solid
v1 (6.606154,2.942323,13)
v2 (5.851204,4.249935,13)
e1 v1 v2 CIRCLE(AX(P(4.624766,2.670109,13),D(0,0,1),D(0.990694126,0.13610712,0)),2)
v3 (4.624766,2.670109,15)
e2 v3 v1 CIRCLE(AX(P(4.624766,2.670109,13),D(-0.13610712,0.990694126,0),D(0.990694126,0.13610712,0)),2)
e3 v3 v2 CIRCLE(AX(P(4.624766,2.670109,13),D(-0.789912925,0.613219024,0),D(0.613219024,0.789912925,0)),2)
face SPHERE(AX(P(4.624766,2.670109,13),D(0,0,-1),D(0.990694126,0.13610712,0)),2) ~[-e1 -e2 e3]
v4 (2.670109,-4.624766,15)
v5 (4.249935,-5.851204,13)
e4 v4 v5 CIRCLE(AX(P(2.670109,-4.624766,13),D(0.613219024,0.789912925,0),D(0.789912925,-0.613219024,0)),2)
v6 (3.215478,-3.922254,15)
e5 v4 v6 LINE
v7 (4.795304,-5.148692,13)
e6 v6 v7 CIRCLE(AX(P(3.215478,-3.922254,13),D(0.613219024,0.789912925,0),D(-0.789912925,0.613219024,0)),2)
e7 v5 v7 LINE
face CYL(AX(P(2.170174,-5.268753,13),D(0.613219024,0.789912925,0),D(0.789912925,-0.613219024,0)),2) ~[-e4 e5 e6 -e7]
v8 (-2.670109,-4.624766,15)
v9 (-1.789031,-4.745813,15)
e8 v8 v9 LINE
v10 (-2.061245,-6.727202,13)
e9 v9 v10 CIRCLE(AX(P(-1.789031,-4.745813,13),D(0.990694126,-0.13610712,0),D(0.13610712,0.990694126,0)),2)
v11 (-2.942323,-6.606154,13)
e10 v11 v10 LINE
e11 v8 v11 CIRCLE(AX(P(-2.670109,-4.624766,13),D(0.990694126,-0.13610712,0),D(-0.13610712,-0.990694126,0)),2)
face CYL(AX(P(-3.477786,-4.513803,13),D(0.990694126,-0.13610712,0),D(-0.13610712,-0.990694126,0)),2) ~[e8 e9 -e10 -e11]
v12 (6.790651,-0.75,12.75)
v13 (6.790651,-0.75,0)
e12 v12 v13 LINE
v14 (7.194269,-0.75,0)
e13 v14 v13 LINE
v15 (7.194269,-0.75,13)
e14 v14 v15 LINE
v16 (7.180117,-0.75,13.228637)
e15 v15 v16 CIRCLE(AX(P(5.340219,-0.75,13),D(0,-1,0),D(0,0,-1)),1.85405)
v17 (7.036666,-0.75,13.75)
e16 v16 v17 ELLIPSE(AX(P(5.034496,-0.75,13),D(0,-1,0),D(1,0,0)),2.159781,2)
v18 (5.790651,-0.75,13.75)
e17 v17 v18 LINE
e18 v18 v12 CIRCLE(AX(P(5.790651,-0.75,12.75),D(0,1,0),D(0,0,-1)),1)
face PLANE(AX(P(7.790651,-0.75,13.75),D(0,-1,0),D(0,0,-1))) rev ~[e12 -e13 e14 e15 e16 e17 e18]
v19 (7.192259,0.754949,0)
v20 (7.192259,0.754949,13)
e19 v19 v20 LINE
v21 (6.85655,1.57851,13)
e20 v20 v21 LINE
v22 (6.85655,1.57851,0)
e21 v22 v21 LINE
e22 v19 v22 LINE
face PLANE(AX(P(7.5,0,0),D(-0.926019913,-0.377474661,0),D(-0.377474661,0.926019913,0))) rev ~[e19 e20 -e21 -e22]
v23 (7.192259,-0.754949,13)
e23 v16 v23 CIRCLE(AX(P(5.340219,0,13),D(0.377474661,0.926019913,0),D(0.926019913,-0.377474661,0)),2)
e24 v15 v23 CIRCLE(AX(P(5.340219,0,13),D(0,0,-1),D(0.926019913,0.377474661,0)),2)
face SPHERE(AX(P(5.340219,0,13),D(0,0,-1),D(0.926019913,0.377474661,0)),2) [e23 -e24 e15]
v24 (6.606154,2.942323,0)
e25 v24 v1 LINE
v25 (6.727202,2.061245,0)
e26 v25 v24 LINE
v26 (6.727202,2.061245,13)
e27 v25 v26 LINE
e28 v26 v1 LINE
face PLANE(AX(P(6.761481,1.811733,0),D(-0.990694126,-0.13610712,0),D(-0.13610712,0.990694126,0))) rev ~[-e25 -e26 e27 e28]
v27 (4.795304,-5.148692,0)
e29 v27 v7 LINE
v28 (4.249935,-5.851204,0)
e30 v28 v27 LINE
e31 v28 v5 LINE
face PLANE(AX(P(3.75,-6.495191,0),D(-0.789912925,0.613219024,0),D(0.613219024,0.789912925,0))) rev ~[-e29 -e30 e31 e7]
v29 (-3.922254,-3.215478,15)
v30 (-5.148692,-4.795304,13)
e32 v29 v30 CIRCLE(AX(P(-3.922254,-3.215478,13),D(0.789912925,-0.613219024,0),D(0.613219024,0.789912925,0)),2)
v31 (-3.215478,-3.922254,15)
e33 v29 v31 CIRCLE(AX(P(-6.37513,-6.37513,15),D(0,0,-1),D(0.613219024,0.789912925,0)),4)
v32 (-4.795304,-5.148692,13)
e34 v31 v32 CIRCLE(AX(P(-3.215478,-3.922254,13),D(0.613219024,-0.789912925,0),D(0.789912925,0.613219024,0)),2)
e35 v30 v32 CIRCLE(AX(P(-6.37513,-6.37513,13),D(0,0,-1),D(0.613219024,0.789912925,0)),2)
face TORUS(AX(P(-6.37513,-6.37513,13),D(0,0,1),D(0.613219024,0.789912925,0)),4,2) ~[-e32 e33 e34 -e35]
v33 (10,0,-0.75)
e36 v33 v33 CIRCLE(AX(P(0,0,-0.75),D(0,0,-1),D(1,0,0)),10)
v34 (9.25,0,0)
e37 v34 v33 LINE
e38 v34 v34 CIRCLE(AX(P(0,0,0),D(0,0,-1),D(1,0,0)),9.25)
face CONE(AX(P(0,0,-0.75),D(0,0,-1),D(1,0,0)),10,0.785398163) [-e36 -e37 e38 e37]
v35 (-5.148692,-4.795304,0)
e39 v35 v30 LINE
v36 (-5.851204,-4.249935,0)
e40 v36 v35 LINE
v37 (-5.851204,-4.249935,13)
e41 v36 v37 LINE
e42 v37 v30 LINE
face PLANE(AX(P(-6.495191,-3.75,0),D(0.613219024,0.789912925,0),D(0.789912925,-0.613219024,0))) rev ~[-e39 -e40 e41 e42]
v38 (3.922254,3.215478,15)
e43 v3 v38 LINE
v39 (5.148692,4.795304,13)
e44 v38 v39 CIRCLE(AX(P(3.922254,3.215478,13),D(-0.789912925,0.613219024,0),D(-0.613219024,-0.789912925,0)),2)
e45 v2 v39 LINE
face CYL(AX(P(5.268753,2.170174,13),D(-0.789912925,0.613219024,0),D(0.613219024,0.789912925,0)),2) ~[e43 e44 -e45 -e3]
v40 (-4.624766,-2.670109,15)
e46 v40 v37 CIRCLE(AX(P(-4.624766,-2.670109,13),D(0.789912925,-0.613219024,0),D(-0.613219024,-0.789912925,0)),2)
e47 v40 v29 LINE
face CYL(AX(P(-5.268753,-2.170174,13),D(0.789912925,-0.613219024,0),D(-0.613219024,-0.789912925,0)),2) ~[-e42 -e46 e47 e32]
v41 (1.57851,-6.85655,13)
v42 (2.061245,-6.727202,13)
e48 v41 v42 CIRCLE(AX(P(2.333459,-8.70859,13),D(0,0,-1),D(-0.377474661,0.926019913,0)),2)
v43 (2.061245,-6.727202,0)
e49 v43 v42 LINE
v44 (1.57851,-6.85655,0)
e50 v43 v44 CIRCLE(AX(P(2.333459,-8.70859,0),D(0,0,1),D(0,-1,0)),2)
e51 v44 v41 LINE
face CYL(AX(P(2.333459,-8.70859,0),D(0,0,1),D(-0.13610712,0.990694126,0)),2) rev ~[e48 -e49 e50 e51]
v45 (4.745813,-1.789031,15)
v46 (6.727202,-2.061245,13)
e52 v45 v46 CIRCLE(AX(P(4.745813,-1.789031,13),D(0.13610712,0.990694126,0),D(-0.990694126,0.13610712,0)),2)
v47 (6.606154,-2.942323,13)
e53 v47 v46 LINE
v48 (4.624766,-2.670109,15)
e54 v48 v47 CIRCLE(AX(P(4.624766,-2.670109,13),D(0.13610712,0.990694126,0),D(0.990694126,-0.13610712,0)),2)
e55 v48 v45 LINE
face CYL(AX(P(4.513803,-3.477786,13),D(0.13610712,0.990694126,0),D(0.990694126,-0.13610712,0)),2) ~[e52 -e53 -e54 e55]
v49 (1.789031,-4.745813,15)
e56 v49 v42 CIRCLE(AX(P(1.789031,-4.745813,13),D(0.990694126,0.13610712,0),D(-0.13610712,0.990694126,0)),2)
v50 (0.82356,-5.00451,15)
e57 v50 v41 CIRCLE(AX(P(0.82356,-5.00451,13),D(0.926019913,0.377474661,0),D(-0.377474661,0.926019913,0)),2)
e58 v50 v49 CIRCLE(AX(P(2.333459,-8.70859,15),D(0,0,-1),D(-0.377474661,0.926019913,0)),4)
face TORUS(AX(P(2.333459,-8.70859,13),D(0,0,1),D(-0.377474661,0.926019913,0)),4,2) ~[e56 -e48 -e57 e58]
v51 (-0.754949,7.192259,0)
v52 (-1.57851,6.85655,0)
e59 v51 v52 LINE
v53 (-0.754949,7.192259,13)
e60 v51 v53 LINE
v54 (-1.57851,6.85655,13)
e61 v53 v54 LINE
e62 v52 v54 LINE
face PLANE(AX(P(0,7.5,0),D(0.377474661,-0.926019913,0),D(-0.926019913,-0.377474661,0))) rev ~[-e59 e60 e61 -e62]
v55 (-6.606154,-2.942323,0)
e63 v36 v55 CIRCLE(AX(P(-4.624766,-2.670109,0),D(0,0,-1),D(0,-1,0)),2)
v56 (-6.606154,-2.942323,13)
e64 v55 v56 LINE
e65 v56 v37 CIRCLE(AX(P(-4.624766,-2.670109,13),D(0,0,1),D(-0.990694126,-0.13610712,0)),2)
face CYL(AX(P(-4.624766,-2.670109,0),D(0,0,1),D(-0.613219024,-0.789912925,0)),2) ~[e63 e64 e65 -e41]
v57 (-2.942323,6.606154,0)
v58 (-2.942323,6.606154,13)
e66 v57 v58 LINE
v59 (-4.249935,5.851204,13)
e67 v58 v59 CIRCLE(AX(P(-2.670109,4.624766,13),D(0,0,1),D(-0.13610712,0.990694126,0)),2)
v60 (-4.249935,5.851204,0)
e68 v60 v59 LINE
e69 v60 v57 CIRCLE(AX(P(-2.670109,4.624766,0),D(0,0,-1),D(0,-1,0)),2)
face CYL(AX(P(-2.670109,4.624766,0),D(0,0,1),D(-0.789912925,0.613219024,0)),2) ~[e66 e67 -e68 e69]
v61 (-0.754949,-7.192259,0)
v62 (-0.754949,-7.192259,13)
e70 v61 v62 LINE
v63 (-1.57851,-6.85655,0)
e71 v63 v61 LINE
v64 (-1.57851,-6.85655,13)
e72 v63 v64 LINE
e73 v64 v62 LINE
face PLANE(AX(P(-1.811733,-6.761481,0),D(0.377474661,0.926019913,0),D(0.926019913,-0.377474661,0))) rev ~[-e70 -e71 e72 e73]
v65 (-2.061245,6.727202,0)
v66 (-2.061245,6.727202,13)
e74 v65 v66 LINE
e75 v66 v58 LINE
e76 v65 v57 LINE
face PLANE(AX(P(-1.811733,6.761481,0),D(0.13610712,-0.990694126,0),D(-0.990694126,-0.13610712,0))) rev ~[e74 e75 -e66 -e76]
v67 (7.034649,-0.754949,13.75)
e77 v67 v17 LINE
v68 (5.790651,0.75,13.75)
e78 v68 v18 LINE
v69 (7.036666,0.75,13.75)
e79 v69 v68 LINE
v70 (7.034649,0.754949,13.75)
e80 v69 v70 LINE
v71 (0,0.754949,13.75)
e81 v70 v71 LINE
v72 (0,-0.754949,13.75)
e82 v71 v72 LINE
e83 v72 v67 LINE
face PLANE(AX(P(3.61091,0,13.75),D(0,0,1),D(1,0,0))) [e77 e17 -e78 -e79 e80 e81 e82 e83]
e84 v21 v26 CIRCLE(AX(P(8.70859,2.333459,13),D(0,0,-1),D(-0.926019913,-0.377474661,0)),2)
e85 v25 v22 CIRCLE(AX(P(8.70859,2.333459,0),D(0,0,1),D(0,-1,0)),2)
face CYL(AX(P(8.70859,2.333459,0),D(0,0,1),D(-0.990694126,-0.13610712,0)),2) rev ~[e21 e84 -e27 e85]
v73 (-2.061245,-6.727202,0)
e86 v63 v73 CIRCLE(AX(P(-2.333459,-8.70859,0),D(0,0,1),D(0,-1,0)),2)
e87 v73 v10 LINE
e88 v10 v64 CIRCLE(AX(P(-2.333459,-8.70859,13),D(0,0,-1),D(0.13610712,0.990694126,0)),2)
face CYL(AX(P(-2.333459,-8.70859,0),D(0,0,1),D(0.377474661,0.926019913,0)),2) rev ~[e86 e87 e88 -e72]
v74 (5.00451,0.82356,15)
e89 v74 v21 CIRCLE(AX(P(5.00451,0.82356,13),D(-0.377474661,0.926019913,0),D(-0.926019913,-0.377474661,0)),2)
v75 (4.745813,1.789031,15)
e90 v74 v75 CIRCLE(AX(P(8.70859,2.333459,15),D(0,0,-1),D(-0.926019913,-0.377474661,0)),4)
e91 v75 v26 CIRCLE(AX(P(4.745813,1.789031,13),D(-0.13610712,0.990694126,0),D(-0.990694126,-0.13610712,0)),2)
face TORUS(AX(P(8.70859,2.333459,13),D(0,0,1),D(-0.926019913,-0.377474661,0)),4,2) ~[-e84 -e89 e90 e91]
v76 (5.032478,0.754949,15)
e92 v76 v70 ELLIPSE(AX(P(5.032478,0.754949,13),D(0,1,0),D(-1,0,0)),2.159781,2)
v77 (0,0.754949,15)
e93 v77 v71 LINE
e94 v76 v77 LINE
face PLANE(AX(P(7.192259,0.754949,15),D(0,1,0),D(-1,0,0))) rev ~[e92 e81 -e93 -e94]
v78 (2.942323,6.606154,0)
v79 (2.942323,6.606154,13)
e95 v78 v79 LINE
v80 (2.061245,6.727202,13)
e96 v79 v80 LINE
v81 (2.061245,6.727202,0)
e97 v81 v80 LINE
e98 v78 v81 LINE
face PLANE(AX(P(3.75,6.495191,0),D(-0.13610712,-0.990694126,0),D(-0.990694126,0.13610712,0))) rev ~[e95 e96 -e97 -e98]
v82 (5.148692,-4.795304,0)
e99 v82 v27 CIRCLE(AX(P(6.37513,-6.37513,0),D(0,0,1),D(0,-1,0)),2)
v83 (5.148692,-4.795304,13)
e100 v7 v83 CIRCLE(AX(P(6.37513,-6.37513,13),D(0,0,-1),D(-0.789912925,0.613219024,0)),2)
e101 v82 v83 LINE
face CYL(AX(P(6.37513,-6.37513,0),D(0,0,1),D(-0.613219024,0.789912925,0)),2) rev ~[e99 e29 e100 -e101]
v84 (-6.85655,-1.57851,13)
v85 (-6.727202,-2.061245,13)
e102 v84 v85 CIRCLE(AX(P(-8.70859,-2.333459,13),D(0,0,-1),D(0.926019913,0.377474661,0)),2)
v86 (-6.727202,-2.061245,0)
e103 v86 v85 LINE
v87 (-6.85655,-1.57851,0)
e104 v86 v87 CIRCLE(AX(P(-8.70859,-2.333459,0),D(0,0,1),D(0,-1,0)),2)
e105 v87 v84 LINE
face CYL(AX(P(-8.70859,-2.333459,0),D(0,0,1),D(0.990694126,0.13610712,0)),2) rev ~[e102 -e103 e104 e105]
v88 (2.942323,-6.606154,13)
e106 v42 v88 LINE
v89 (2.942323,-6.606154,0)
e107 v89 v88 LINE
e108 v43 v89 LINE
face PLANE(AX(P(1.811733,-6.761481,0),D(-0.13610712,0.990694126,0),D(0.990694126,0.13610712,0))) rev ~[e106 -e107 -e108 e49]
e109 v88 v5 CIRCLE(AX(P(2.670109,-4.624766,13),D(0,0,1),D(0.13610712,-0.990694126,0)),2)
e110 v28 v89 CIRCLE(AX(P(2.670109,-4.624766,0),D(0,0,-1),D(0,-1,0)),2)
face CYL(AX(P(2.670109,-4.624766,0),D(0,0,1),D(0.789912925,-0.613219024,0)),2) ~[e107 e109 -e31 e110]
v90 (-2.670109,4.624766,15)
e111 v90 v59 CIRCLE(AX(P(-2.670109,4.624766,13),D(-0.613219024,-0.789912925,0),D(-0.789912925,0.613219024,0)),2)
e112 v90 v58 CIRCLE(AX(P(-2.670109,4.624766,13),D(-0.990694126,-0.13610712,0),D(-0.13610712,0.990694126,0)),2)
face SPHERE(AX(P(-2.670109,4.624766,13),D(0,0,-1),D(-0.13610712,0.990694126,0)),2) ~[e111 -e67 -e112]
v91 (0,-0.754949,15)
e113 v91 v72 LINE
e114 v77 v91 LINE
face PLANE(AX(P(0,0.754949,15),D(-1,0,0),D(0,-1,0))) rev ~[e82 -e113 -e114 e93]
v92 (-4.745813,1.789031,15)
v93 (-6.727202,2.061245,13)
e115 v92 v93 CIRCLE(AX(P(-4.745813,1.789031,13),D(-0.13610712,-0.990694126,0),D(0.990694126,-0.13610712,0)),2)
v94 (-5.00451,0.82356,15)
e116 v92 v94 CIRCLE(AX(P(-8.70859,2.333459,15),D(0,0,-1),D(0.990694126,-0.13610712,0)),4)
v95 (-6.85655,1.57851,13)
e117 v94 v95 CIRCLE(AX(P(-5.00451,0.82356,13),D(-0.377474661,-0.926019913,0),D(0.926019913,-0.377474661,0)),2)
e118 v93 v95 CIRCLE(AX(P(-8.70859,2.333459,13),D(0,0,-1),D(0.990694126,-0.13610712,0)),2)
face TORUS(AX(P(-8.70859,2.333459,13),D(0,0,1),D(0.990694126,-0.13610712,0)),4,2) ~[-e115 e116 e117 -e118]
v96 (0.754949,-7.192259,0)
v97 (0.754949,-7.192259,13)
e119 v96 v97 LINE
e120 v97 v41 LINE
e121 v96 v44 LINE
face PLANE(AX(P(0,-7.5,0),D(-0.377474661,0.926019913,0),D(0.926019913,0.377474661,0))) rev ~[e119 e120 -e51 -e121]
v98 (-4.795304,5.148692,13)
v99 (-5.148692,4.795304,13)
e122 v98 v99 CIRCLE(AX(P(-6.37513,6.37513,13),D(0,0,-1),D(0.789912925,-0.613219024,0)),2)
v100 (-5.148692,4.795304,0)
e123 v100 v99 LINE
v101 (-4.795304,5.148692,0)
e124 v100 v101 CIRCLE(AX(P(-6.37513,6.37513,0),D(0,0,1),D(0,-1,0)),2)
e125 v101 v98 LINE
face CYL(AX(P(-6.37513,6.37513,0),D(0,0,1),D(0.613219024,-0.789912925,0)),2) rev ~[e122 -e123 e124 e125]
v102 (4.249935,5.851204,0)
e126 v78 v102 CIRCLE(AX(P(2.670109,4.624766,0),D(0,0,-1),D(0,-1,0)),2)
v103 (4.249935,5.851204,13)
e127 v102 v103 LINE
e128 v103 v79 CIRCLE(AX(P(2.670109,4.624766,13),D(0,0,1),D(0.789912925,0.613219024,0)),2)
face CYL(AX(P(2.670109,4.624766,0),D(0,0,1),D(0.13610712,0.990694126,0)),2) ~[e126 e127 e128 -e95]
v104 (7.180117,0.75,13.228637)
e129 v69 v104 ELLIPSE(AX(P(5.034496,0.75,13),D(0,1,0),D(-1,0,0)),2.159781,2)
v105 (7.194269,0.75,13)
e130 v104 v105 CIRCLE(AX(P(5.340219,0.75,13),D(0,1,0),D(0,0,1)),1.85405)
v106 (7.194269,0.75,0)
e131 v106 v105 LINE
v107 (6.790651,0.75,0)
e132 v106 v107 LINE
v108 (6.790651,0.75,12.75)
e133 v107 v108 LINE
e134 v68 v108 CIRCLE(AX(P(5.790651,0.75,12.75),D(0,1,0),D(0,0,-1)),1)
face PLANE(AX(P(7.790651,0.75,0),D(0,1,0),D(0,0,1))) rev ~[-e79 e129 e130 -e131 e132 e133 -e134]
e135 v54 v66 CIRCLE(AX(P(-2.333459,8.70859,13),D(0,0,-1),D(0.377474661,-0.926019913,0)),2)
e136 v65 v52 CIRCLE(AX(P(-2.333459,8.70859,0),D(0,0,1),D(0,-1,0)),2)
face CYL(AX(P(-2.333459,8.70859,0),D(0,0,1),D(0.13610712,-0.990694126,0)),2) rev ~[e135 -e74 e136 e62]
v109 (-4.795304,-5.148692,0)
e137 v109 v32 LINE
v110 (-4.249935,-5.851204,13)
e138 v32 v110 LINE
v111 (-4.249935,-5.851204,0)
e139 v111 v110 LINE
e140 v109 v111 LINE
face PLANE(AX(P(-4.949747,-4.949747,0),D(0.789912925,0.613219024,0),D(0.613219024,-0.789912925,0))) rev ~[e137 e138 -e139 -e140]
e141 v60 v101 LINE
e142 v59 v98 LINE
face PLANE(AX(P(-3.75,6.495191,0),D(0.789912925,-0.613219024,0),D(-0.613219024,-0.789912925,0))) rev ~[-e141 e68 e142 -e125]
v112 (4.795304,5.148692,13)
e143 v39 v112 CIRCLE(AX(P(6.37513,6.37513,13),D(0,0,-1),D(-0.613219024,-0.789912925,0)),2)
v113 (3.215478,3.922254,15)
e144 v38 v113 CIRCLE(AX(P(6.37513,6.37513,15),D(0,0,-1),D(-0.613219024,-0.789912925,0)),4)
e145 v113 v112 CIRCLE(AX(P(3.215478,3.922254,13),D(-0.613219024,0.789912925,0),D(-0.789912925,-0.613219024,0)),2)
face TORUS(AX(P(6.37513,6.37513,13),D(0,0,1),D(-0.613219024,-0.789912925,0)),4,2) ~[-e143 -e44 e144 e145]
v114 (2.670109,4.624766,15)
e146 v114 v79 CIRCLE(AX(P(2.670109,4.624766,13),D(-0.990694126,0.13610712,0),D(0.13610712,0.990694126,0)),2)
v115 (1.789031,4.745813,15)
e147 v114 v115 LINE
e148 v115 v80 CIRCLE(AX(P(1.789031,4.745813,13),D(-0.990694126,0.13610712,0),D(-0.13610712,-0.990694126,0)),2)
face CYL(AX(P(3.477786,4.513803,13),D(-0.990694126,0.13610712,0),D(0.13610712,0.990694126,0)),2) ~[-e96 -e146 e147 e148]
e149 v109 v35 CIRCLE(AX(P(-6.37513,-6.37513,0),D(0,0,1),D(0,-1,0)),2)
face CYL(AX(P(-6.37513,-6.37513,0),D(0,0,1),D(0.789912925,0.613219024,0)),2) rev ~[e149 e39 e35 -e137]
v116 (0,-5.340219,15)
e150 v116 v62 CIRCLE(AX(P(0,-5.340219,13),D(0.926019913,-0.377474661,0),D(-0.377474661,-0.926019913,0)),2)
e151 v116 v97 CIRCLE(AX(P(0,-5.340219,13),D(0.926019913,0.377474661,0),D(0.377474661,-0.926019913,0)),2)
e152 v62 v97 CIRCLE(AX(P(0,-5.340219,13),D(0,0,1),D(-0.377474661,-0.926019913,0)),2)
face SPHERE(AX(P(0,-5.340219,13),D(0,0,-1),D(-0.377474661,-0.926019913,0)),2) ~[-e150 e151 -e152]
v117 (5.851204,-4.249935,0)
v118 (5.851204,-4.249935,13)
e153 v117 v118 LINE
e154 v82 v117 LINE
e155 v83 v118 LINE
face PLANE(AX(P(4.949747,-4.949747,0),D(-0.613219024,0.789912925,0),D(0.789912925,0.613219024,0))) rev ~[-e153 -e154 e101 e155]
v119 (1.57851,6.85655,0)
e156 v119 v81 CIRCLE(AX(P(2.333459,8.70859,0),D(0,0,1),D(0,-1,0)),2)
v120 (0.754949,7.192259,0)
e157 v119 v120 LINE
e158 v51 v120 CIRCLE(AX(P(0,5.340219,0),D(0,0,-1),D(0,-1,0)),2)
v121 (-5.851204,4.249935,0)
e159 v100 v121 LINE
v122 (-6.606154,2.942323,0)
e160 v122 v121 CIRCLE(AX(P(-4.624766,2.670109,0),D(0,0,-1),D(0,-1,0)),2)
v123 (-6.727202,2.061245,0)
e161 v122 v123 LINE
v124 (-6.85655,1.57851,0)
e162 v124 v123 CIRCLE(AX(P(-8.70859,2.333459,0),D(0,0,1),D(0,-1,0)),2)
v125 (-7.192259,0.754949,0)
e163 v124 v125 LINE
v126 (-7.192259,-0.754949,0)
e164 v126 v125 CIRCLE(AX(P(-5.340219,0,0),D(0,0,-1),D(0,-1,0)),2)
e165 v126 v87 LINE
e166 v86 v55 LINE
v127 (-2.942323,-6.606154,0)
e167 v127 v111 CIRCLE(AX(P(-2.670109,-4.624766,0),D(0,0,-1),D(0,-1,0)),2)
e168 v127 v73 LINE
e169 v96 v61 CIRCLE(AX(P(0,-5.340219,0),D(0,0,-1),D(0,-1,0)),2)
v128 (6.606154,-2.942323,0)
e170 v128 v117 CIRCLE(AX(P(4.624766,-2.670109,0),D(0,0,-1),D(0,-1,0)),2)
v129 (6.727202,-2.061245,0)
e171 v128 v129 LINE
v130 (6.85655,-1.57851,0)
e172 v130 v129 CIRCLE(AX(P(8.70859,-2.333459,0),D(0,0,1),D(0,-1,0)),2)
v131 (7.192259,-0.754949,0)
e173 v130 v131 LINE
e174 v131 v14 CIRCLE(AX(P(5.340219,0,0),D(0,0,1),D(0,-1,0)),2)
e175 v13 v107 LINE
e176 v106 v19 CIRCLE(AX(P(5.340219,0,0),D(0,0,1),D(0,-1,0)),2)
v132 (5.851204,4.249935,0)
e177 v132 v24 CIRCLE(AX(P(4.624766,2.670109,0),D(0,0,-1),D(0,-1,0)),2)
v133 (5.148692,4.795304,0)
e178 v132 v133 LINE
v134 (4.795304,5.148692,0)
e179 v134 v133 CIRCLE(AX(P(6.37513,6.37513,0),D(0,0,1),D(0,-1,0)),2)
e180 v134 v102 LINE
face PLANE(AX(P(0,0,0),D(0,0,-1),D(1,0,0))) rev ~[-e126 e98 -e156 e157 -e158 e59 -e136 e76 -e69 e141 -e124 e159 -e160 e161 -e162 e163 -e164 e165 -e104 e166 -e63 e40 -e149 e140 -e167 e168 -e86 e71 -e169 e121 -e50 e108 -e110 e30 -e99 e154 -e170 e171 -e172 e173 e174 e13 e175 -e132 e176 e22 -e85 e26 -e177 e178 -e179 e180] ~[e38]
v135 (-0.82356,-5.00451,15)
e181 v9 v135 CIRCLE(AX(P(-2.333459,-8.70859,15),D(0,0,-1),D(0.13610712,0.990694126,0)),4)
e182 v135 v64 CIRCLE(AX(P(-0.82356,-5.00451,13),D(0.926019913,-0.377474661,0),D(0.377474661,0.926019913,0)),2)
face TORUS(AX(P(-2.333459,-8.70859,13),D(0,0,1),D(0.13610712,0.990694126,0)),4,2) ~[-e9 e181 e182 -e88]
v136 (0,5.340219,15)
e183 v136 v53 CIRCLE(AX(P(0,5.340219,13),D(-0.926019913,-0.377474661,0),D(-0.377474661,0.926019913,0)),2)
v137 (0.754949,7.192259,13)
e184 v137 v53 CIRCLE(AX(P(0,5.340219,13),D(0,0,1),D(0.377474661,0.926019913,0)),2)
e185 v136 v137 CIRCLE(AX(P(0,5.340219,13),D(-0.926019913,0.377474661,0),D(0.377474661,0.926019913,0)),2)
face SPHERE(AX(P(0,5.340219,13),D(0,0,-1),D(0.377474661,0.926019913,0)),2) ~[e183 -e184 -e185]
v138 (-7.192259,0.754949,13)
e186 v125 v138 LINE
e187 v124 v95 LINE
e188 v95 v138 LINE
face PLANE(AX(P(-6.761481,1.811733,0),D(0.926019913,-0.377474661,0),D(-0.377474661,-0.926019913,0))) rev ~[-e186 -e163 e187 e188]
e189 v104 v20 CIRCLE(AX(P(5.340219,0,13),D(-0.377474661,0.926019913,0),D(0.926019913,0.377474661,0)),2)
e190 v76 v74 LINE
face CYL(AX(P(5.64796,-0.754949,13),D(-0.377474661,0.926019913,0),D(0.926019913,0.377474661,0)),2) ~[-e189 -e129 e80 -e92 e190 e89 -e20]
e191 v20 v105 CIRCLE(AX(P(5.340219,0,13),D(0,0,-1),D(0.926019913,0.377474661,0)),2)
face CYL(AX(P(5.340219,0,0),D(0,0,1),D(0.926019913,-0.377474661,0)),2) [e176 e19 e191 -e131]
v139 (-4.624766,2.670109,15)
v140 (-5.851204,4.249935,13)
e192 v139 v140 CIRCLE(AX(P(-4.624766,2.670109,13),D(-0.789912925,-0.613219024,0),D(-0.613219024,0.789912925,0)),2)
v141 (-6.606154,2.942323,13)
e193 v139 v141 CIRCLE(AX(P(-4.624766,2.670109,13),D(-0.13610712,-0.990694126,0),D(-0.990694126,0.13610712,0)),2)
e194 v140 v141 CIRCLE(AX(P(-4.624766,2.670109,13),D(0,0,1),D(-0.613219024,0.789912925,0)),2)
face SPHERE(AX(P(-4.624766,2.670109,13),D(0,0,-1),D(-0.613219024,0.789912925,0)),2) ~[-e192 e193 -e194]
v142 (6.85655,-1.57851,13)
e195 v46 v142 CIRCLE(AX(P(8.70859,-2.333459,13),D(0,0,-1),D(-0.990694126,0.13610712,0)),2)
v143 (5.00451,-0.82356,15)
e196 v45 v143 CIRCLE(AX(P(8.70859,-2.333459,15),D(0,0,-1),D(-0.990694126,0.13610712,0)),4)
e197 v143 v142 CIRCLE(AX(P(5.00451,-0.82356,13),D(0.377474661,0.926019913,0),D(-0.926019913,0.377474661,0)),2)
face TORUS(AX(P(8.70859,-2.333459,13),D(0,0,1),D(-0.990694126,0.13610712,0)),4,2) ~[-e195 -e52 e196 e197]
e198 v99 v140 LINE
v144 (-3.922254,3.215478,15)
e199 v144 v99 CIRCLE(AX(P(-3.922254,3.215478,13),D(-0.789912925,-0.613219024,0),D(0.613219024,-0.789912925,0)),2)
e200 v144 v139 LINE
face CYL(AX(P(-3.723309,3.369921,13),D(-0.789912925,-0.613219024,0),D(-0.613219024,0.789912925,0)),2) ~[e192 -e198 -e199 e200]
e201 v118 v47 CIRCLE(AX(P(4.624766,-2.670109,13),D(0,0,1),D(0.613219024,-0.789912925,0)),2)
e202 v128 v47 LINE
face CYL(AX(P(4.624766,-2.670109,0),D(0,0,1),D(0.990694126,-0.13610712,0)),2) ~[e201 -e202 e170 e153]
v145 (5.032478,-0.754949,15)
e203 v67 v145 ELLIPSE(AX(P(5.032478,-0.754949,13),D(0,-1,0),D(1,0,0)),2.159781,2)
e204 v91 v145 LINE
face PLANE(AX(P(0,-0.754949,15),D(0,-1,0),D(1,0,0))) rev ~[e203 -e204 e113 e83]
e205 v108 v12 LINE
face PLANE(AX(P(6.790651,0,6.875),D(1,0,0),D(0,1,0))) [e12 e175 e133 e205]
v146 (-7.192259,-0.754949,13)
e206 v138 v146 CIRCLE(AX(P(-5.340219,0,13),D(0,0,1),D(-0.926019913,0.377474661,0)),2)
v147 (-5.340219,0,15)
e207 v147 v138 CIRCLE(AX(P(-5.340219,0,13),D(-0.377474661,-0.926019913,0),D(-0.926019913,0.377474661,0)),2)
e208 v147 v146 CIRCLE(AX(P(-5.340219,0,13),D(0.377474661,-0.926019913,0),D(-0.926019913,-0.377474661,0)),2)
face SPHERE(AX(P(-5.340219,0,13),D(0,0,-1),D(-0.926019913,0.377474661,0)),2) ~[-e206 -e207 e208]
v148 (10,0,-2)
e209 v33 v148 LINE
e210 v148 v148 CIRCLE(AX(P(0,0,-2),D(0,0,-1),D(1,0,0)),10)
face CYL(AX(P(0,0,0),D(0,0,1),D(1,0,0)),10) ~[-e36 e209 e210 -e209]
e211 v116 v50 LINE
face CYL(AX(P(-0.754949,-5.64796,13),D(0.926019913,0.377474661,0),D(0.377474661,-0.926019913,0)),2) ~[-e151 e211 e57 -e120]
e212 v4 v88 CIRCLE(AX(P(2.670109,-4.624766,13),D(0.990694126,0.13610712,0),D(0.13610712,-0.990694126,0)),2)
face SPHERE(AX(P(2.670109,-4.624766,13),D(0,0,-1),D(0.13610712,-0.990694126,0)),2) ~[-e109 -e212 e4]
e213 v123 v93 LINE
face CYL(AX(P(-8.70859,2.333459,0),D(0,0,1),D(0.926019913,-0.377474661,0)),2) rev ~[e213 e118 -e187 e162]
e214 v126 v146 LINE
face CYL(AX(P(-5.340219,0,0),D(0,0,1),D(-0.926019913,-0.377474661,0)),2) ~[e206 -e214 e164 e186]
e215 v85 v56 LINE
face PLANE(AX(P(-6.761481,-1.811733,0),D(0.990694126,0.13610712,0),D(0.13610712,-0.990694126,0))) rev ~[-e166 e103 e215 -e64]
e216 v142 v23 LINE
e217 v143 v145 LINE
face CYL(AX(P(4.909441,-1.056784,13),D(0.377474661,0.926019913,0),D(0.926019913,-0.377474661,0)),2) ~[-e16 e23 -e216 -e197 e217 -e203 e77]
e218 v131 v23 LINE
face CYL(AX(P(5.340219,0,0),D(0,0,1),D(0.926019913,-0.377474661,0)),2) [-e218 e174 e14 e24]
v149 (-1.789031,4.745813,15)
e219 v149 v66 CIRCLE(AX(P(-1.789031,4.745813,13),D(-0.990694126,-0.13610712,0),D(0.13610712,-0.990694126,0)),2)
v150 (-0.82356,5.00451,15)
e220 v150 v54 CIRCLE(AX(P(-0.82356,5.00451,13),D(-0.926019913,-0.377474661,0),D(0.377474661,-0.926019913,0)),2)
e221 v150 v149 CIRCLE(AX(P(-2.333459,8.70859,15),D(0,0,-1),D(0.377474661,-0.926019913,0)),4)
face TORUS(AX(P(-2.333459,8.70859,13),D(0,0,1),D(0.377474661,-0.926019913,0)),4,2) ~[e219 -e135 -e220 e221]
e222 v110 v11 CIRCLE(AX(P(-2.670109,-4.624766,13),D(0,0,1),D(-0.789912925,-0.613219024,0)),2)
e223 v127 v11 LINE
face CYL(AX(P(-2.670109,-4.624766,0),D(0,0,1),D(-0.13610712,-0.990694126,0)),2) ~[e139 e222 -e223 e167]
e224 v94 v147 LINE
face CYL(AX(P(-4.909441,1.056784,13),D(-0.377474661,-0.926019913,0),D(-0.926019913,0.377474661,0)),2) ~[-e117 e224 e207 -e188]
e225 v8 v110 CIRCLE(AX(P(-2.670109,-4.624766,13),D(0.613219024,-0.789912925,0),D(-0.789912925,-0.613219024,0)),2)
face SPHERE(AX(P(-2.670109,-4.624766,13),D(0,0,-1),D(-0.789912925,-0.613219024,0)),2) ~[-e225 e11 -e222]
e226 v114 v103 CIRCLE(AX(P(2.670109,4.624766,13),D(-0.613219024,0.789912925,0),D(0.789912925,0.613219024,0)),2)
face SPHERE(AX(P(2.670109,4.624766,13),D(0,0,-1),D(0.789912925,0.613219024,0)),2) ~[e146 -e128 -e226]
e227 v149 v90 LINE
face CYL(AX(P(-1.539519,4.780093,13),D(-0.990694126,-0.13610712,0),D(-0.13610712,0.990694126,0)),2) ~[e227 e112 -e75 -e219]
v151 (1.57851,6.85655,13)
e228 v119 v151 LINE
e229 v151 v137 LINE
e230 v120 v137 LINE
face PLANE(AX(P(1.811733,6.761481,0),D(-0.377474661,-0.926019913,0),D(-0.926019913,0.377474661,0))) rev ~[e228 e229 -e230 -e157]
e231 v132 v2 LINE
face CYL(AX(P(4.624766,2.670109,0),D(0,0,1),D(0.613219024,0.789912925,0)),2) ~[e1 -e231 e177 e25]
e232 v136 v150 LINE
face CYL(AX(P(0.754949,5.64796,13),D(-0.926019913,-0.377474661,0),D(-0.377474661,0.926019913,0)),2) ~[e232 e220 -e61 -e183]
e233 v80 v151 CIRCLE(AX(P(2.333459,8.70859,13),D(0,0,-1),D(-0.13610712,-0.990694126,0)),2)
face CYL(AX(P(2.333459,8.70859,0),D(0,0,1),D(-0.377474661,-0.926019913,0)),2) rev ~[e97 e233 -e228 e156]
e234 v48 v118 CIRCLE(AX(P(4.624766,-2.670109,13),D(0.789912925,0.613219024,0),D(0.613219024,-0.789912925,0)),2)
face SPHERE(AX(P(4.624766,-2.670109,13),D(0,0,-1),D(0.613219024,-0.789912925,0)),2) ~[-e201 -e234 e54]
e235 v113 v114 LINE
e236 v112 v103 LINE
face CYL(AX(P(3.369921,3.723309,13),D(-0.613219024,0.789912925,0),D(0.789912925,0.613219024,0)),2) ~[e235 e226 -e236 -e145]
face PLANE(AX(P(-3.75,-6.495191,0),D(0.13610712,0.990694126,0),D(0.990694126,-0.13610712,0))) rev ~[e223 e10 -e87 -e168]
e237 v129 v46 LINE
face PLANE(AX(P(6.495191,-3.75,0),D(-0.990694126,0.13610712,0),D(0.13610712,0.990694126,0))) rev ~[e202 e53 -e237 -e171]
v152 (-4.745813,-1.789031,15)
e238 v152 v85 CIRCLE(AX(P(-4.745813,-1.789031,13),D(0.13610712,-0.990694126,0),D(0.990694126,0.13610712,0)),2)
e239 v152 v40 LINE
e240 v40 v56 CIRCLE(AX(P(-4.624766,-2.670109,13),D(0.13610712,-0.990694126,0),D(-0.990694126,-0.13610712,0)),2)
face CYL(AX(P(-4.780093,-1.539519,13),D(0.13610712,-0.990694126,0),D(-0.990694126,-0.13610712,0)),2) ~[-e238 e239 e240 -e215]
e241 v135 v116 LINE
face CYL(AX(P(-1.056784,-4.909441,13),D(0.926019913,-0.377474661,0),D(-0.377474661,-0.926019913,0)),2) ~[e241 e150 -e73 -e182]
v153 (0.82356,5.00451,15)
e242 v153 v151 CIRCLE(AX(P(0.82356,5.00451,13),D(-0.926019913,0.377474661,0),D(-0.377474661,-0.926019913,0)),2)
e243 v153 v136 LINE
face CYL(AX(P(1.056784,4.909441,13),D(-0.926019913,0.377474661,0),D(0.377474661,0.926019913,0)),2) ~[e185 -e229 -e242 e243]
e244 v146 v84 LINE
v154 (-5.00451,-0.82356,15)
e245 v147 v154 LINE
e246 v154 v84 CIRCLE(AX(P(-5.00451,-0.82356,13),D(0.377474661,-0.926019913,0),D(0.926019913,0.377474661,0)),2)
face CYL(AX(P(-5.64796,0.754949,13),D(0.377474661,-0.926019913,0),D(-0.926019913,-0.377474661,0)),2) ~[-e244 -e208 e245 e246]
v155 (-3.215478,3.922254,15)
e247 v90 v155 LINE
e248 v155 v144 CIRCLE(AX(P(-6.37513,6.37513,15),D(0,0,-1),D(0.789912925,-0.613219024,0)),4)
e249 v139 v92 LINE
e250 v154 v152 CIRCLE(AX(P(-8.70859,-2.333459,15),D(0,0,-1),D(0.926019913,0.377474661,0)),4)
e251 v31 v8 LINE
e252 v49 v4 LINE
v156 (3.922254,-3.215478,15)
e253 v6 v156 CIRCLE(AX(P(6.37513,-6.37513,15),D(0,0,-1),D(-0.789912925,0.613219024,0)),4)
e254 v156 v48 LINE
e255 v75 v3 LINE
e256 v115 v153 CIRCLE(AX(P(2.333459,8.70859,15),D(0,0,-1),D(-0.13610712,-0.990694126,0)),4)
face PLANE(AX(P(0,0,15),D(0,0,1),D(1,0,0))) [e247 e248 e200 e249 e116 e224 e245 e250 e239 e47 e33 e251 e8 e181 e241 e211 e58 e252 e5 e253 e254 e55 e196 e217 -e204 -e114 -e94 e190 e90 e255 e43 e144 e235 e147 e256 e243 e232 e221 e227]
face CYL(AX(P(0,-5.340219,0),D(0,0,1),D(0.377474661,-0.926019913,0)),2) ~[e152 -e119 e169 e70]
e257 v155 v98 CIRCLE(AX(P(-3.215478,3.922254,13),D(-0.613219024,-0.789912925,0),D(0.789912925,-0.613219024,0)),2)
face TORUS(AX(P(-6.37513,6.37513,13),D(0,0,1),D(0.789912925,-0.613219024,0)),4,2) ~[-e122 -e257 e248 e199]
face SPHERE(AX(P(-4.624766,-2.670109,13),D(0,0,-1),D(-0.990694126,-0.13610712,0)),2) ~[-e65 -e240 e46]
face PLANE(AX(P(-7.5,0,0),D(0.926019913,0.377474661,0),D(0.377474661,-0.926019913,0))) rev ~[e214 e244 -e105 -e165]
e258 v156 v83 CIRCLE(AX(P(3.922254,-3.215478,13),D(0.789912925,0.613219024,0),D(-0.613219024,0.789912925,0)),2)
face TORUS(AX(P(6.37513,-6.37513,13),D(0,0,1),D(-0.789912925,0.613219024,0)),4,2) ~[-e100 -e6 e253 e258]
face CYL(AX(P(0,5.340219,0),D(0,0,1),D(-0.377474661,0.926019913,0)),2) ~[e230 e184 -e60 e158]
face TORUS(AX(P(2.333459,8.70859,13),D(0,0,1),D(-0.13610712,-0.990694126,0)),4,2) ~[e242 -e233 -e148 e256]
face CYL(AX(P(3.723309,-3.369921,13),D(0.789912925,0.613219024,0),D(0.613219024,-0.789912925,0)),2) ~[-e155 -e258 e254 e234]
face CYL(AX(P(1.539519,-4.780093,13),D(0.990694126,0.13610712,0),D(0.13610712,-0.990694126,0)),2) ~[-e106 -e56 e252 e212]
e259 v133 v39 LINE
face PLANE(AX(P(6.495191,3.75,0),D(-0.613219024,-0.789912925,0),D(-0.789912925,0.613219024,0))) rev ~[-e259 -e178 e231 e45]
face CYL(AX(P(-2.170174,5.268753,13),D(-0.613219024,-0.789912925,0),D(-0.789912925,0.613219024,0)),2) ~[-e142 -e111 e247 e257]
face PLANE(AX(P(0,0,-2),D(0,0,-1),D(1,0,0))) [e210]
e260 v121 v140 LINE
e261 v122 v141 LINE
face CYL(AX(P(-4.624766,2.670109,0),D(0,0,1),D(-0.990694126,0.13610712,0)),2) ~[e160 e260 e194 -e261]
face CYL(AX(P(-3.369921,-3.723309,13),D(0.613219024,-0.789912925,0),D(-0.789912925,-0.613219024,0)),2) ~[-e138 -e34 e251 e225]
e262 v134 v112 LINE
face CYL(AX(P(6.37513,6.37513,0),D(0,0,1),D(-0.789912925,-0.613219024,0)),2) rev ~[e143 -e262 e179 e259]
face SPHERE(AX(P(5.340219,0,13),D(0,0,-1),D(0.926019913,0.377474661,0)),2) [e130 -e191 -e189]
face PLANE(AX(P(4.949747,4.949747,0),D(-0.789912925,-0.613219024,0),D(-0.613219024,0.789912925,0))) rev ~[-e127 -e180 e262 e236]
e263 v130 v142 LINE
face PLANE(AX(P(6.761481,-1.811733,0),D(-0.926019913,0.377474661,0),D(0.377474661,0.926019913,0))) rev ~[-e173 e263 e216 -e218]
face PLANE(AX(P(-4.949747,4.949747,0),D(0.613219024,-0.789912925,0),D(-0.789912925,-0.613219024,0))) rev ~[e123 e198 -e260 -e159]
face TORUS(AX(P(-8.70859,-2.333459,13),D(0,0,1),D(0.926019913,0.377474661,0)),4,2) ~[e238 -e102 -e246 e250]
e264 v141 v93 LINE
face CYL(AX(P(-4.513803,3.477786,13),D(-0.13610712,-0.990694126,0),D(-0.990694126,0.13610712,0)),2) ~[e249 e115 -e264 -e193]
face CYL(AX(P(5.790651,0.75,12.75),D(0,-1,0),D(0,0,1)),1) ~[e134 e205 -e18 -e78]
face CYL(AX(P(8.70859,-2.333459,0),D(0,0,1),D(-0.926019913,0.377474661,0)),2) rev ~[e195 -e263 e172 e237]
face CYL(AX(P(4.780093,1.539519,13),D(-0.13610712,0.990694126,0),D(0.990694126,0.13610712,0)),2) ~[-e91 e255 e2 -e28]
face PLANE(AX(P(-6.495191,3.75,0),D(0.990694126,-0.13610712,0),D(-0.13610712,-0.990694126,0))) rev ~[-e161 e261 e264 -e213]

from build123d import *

# Parameters (mm, degrees)
PAD_DEPTH       = 15
SKETCH001_R     = 10
PAD001_DEPTH    = 2
FILLET_R        = 2
POCKET_DEPTH    = 1.25
POCKET001_DEPTH = 1
FILLET001_R     = 1
CHAMFER_SIZE    = 0.75


with BuildPart() as part:
    # Sketch → Pad (new body)
    with BuildSketch(Plane.XY):
        Polygon((7.5, 0), (6.761481, 1.811733), (6.495191, 3.75), (4.949747, 4.949747), (3.75, 6.495191), (1.811733, 6.761481), (0, 7.5), (-1.811733, 6.761481), (-3.75, 6.495191), (-4.949747, 4.949747), (-6.495191, 3.75), (-6.761481, 1.811733), (-7.5, 0), (-6.761481, -1.811733), (-6.495191, -3.75), (-4.949747, -4.949747), (-3.75, -6.495191), (-1.811733, -6.761481), (0, -7.5), (1.811733, -6.761481), (3.75, -6.495191), (4.949747, -4.949747), (6.495191, -3.75), (6.761481, -1.811733), align=None)
    extrude(amount=PAD_DEPTH)

    # Sketch001 (on Face25 of Pad) → Pad001 (join)
    with BuildSketch(Plane(origin=(0, 0, 0), x_dir=(1, 0, 0), z_dir=(0, 0, -1))):
        Circle(SKETCH001_R)
    extrude(amount=PAD001_DEPTH)

    # Fillet
    fillet_edges = [part.edges().sort_by_distance(p)[0] for p in [
        (7.13074, 0.905867, 15),
        (6.628336, 2.780867, 15),
        (5.722469, 4.349874, 15),
        (4.349874, 5.722469, 15),
        (2.780867, 6.628336, 15),
        (0.905867, 7.13074, 15),
        (-0.905867, 7.13074, 15),
        (-2.780867, 6.628336, 15),
        (-4.349874, 5.722469, 15),
        (-5.722469, 4.349874, 15),
        (-6.628336, 2.780867, 15),
        (-7.13074, 0.905867, 15),
        (-7.13074, -0.905867, 15),
        (-6.628336, -2.780867, 15),
        (-5.722469, -4.349874, 15),
        (-4.349874, -5.722469, 15),
        (-2.780867, -6.628336, 15),
        (-0.905867, -7.13074, 15),
        (0.905867, -7.13074, 15),
        (2.780867, -6.628336, 15),
        (4.349874, -5.722469, 15),
        (5.722469, -4.349874, 15),
        (6.628336, -2.780867, 15),
        (7.13074, -0.905867, 15),
        (-3.75, -6.495191, 7.5),
        (-1.811733, -6.761481, 7.5),
        (0, -7.5, 7.5),
        (1.811733, -6.761481, 7.5),
        (3.75, -6.495191, 7.5),
        (4.949747, -4.949747, 7.5),
        (6.495191, -3.75, 7.5),
        (6.761481, -1.811733, 7.5),
        (7.5, 0, 7.5),
        (6.761481, 1.811733, 7.5),
        (6.495191, 3.75, 7.5),
        (4.949747, 4.949747, 7.5),
        (3.75, 6.495191, 7.5),
        (1.811733, 6.761481, 7.5),
        (0, 7.5, 7.5),
        (-1.811733, 6.761481, 7.5),
        (-3.75, 6.495191, 7.5),
        (-4.949747, 4.949747, 7.5),
        (-6.495191, 3.75, 7.5),
        (-6.761481, 1.811733, 7.5),
        (-7.5, 0, 7.5),
        (-6.761481, -1.811733, 7.5),
        (-6.495191, -3.75, 7.5),
        (-4.949747, -4.949747, 7.5),
    ]]
    fillet(fillet_edges, radius=FILLET_R)

    # Sketch002 (on Face54 of Fillet) → Pocket (cut)
    with BuildSketch(Plane.XY.offset(15)):
        with BuildLine():
            Line((7.192259, 0.754949), (0, 0.754949))
            Line((0, 0.754949), (0, -0.754949))
            Line((0, -0.754949), (7.192259, -0.754949))
            ThreePointArc((7.192259, -0.754949), (7.340219, 0), (7.192259, 0.754949))
        make_face()
    extrude(amount=-POCKET_DEPTH, mode=Mode.SUBTRACT)

    # Sketch003 (on DatumPlane) → Pocket001 (cut)
    with BuildSketch(Plane(origin=(7.790651, 0, 6.5), x_dir=(0, 1, 0), z_dir=(1, 0, 0))):
        Polygon((-0.75, 6.5), (-0.75, -6.5), (0.75, -6.5), (0.75, 6.5), (0.75, 7.25), (-0.75, 7.25), align=None)
    extrude(amount=-POCKET001_DEPTH, mode=Mode.SUBTRACT)

    # Fillet001
    fillet001_edges = [part.edges().sort_by_distance(p)[0] for p in [
        (6.790651, 0, 13.75),
    ]]
    fillet(fillet001_edges, radius=FILLET001_R)

    # Chamfer
    chamfer_edges = [part.edges().sort_by_distance(p)[0] for p in [
        (-10, 0, 0),
    ]]
    chamfer(chamfer_edges, length=CHAMFER_SIZE)


solid = part.part
